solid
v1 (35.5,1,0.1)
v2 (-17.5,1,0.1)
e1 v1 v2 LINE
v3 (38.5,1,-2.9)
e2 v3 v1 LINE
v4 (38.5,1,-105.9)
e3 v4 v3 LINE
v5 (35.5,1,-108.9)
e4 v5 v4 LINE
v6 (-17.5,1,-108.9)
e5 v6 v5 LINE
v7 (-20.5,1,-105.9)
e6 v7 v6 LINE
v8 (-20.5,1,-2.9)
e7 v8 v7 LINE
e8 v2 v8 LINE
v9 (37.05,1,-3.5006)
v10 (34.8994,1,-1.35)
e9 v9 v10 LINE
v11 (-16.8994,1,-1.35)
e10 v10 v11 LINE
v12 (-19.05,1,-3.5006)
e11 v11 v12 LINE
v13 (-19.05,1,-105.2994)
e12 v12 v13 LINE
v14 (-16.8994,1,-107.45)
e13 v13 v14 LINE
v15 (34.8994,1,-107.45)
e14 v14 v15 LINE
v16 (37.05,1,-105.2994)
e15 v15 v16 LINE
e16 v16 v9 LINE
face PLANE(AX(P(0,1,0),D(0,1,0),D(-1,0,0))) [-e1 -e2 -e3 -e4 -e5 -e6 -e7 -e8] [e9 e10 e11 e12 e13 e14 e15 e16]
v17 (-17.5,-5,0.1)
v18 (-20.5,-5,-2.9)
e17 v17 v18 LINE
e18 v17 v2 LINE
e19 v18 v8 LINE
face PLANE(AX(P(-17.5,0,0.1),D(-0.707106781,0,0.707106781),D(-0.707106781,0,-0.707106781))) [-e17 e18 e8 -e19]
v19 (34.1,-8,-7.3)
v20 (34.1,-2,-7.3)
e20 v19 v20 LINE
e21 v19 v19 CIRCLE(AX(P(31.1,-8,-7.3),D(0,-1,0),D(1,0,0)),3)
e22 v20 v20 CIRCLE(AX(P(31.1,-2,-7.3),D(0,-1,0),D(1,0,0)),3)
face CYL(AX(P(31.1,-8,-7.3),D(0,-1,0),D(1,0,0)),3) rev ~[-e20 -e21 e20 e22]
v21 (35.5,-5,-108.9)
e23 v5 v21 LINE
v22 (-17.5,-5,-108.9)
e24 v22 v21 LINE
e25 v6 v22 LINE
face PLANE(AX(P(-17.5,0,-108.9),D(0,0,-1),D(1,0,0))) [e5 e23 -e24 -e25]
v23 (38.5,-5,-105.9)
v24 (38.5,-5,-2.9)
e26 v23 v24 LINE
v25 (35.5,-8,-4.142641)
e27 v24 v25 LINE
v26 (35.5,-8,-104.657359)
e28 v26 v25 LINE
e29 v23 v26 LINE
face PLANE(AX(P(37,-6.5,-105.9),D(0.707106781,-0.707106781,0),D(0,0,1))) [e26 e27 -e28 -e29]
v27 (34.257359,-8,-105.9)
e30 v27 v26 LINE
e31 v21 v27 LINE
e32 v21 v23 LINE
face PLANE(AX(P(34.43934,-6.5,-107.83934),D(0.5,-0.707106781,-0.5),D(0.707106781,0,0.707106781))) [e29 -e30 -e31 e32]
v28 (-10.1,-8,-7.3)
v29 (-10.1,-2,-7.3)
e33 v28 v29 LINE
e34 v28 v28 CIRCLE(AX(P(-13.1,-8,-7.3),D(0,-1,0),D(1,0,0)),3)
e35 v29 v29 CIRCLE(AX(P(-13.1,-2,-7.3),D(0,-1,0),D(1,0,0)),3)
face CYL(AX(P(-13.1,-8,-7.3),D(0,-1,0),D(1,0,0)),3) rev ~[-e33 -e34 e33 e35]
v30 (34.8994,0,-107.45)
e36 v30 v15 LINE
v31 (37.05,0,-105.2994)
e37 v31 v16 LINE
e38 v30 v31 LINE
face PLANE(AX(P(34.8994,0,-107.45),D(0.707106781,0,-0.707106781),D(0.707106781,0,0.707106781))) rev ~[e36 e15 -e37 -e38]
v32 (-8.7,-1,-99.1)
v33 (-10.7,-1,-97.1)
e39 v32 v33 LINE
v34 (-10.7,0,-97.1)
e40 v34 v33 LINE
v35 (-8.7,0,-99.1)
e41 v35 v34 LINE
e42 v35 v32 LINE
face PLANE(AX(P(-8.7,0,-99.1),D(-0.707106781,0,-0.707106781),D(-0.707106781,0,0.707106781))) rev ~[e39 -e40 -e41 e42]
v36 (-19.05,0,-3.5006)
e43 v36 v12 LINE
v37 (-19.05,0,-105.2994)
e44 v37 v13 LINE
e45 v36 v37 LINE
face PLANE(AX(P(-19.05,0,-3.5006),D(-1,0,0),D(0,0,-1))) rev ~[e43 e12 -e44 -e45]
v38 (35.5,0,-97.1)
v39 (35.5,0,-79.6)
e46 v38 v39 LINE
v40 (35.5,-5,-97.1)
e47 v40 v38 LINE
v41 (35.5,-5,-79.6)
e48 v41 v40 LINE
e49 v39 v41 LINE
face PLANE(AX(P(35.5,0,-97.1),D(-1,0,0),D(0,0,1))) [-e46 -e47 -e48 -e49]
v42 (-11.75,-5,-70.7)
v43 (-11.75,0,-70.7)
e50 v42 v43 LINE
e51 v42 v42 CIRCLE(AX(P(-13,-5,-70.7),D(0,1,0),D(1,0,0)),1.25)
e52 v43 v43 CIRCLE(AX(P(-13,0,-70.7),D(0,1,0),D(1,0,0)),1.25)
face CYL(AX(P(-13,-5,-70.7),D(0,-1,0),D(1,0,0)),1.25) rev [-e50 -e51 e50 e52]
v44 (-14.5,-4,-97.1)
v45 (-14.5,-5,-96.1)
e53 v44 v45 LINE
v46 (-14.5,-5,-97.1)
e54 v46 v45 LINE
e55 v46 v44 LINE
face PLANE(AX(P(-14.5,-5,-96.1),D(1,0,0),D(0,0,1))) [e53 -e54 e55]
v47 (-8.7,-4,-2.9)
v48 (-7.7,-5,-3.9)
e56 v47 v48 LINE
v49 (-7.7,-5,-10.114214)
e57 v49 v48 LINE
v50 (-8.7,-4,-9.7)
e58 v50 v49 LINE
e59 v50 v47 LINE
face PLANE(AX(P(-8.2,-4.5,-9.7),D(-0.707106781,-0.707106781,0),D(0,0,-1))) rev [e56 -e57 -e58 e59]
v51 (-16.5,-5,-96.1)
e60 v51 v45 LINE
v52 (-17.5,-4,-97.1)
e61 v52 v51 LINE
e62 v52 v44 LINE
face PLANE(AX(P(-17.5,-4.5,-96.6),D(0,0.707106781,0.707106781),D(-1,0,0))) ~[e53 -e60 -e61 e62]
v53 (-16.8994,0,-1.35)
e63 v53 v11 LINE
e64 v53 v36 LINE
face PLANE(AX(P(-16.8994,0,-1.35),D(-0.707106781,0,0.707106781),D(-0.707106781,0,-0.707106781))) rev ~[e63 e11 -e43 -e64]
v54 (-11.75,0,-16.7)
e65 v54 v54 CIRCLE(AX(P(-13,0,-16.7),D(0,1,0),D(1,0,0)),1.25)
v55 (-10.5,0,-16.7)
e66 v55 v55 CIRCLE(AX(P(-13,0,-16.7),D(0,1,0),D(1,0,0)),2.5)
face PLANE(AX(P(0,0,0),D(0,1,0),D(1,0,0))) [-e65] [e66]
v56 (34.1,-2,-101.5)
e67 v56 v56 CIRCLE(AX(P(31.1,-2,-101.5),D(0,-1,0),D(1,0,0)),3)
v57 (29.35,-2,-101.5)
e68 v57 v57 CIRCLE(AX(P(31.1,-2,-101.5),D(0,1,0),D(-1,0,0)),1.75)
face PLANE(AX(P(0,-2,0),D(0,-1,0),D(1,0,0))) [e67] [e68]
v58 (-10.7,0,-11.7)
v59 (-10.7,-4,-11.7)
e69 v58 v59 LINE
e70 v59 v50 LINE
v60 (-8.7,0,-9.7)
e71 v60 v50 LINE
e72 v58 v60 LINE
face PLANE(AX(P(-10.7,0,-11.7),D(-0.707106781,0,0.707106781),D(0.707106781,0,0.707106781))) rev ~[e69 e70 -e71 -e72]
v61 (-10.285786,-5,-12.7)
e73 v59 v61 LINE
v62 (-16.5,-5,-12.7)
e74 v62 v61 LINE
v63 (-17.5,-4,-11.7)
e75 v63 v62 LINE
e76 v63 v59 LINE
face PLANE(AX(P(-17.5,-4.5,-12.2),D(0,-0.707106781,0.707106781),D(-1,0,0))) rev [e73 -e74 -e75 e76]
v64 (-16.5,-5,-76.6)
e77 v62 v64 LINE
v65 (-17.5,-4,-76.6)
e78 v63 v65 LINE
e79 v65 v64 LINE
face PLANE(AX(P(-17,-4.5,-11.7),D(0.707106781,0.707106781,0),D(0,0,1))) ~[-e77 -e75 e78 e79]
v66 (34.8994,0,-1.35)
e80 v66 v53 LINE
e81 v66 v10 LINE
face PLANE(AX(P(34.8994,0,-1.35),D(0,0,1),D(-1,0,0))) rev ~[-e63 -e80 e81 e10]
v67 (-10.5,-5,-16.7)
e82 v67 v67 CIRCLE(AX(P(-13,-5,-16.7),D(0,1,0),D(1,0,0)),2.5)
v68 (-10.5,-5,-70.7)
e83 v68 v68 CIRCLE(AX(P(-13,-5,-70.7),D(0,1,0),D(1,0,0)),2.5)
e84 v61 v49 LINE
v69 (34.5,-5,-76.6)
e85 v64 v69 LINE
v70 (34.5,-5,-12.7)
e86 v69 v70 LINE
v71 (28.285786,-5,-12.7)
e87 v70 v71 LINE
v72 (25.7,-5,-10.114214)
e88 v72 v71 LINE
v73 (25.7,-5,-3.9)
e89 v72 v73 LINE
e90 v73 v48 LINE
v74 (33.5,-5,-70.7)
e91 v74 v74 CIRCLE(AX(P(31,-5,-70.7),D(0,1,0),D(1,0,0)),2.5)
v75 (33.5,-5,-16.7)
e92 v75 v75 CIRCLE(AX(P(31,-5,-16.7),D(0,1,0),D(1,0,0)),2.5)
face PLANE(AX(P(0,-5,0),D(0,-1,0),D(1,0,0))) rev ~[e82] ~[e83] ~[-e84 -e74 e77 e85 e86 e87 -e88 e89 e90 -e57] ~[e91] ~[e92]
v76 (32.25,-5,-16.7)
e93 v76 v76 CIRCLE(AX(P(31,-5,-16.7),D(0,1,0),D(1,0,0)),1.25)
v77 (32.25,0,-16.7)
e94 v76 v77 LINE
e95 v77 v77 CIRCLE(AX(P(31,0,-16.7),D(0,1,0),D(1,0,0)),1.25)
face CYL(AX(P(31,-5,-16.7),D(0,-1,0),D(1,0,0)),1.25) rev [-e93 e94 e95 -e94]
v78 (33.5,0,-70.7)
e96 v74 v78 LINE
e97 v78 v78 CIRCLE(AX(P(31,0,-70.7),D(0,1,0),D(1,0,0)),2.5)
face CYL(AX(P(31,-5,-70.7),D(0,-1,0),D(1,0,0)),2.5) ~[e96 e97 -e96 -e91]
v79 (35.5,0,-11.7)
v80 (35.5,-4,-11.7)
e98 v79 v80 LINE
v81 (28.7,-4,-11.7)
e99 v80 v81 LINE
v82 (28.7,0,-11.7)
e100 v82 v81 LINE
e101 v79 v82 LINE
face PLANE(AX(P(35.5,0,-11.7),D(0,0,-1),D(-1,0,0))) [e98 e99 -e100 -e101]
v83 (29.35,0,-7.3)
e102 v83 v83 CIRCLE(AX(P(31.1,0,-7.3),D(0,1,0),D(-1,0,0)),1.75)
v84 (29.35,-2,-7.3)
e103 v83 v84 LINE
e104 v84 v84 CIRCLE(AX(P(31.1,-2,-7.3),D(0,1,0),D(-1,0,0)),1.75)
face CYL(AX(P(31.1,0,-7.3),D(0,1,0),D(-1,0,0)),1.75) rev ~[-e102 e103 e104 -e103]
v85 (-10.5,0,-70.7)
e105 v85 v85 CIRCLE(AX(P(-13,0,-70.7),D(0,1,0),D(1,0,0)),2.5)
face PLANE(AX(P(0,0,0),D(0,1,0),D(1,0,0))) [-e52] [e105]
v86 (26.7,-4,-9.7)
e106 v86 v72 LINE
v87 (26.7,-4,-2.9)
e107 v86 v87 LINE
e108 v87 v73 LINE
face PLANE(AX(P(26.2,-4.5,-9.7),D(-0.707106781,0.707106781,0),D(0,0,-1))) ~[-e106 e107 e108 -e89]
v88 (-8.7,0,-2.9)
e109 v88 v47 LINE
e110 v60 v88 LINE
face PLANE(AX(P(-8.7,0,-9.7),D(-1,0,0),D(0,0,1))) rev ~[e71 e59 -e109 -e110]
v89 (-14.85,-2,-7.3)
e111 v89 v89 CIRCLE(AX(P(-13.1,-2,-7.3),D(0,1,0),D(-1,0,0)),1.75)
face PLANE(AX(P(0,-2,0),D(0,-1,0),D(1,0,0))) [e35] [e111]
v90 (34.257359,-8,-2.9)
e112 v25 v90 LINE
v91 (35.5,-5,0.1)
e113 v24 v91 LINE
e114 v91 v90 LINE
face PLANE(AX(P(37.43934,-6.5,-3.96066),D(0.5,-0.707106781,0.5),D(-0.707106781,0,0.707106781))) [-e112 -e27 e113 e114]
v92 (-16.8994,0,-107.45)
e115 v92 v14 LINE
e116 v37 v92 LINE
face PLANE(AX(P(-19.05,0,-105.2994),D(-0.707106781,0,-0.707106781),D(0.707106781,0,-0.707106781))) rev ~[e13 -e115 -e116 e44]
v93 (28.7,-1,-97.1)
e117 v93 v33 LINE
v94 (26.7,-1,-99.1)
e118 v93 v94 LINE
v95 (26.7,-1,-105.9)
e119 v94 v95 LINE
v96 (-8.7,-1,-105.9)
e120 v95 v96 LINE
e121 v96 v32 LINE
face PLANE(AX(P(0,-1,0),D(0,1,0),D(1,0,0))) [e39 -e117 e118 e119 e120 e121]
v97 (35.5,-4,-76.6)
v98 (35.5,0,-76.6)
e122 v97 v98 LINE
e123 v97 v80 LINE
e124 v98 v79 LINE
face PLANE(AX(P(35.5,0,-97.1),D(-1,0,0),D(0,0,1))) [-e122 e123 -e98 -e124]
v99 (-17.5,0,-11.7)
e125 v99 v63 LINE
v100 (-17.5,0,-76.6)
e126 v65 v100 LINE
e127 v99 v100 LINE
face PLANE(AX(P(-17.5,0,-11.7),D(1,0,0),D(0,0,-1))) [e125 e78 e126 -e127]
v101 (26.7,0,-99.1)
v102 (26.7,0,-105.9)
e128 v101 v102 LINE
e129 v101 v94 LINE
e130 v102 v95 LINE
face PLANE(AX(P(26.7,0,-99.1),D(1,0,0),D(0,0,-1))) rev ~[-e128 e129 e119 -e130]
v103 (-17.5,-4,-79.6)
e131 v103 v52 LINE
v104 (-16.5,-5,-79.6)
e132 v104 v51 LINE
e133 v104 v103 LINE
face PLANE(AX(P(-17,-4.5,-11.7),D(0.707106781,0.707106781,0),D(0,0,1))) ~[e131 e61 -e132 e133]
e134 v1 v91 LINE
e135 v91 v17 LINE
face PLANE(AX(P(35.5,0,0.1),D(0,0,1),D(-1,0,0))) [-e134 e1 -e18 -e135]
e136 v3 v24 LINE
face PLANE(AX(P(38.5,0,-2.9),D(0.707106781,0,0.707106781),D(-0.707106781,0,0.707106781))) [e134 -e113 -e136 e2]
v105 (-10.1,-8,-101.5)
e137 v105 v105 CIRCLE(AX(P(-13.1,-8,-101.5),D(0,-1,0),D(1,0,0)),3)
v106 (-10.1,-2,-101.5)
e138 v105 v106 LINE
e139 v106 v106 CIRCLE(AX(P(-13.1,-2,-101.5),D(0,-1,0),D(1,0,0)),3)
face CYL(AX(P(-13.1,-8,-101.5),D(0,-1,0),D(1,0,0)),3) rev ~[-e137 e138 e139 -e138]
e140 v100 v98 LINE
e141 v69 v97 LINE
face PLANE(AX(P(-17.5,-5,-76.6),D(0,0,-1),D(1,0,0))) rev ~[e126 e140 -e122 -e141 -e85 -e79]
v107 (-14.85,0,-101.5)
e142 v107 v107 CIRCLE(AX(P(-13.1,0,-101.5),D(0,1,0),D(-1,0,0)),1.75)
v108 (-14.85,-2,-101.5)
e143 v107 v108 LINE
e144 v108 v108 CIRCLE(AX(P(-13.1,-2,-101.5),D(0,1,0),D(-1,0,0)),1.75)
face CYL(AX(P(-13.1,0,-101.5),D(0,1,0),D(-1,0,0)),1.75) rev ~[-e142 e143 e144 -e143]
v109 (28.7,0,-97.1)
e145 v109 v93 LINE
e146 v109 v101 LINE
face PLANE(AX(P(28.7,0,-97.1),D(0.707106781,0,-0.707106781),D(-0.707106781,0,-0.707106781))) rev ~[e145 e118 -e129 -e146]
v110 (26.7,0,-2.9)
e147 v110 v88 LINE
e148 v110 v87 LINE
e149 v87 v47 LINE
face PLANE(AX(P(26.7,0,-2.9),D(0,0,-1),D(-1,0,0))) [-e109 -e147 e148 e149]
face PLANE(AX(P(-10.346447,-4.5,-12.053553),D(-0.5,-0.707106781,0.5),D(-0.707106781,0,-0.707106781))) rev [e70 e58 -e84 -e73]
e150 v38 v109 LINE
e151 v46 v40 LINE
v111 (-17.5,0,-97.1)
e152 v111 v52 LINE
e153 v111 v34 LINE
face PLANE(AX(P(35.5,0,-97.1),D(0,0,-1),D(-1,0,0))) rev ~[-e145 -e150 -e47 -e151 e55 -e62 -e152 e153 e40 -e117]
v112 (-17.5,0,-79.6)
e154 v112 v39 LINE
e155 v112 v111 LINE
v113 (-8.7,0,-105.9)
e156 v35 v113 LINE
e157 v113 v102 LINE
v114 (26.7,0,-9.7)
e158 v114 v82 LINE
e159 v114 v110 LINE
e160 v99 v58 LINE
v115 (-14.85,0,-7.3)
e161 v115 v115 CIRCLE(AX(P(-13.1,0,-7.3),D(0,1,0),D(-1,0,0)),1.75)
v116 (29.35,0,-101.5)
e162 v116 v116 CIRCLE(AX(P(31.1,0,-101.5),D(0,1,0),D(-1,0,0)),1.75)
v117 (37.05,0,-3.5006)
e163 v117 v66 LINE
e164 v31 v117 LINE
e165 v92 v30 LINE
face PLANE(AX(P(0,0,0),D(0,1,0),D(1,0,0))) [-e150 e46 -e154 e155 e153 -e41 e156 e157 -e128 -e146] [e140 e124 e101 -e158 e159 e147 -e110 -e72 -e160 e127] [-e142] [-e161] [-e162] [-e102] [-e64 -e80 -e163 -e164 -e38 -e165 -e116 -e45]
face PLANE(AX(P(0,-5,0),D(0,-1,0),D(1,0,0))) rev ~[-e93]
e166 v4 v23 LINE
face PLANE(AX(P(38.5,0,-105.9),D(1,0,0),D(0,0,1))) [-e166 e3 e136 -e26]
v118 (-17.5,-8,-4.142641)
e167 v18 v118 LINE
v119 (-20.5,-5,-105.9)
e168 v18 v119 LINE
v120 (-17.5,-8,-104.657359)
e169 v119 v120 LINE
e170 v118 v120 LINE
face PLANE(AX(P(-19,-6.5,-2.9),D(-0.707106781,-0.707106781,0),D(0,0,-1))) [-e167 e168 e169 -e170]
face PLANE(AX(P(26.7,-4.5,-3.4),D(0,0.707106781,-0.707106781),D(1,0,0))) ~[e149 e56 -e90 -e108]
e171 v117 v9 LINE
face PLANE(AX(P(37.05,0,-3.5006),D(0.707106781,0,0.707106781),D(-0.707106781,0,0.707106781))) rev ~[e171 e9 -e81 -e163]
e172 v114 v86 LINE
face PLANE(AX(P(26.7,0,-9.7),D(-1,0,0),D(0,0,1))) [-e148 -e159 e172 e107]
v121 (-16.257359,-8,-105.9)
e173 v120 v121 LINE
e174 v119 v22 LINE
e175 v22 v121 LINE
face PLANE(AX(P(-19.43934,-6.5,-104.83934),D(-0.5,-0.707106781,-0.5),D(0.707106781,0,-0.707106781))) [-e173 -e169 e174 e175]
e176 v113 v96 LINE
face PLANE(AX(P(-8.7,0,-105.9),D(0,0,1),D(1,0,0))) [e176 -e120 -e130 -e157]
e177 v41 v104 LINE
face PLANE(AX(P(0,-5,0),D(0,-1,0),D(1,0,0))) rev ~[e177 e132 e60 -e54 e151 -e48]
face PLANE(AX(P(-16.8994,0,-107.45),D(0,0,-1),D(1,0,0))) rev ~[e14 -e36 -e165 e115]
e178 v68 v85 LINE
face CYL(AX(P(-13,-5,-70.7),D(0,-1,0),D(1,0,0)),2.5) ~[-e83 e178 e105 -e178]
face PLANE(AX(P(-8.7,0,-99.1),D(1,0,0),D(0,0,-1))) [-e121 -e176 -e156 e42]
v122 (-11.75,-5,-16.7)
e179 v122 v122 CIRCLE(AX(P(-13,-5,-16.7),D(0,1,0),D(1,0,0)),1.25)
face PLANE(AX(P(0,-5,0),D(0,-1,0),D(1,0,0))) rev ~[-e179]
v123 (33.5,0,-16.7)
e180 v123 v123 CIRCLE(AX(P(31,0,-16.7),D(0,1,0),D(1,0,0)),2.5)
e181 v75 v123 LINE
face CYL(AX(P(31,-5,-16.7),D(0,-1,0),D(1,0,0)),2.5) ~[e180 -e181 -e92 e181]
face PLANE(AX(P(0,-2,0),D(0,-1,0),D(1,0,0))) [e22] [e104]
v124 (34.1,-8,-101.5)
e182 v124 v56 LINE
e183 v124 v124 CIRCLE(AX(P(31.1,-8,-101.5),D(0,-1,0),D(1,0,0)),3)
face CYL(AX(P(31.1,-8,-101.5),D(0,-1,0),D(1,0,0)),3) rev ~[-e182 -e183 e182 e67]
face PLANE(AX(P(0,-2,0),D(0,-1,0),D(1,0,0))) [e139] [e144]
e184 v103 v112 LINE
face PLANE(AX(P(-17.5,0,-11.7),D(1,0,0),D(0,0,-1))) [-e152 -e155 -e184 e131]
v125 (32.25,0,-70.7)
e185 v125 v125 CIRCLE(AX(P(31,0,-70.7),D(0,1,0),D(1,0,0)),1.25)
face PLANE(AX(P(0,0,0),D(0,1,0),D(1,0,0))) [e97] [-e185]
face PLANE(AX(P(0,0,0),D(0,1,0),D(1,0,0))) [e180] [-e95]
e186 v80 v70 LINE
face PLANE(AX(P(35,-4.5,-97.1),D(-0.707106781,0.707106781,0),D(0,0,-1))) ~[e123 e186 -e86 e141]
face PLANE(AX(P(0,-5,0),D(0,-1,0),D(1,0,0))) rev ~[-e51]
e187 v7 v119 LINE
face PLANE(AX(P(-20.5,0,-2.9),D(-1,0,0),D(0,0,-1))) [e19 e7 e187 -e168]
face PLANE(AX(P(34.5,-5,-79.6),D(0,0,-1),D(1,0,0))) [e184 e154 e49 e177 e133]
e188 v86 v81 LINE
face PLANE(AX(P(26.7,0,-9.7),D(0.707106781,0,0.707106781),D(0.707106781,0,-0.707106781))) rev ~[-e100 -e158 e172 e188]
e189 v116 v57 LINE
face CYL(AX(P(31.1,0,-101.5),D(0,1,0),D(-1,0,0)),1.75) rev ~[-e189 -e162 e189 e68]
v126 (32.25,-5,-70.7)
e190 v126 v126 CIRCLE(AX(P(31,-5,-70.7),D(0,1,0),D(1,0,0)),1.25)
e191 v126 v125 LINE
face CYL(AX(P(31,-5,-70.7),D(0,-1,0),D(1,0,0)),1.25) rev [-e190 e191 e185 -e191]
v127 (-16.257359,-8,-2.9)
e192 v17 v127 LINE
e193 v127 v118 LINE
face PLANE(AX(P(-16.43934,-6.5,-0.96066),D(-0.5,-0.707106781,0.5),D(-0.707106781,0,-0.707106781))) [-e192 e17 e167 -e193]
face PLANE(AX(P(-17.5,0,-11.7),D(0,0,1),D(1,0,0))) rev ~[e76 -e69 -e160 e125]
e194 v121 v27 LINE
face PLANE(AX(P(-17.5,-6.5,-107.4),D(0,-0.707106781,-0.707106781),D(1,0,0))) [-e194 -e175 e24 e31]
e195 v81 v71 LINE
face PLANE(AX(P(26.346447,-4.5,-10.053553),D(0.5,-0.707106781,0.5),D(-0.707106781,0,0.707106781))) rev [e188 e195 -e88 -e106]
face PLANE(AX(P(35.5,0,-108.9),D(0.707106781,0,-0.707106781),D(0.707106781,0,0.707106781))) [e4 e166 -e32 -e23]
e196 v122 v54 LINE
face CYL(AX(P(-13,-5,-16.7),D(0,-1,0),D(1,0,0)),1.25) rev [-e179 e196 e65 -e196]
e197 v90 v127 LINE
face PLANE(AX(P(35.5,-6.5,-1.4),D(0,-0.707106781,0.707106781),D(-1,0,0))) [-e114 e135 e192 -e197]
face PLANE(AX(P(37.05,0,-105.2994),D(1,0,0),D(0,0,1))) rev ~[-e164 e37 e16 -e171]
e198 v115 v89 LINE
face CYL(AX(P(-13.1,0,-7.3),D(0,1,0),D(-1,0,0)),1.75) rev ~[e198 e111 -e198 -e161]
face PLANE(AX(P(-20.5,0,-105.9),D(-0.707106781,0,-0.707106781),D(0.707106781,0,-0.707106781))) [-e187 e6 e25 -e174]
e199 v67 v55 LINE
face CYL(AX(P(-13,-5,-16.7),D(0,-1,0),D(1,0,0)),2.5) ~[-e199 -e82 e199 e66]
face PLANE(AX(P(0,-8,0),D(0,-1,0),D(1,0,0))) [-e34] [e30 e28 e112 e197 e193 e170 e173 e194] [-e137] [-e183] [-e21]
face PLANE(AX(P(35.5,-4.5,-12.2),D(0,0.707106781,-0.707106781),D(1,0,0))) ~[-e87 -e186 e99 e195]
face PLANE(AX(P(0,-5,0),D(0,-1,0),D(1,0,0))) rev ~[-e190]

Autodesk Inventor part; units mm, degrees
ref_plane "YZ Plane" through (0, 0, 0) normal (1, 0, 0) x (0, 1, 0)
ref_plane "XZ Plane" through (0, 0, 0) normal (0, 1, 0) x (-1, 0, 0)
ref_plane "XY Plane" through (0, 0, 0) normal (0, 0, 1) x (1, 0, 0)
sketch "Sketch4" plane through (0, 0, 0) normal (0, 1, 0) x (-1, 0, 0)
  circle A0 centre (-31.1, -7.3) radius 1.75
  line L0 (-34.858, -107.35) -> (16.858, -107.35)
  line L1 (16.858, -107.35) -> (18.95, -105.258)
  line L2 (18.95, -105.258) -> (18.95, -3.542)
  line L3 (18.95, -3.542) -> (16.858, -1.45)
  line L4 (16.858, -1.45) -> (-34.858, -1.45)
  line L5 (-34.858, -1.45) -> (-36.95, -3.542)
  line L6 (-36.95, -3.542) -> (-36.95, -105.258)
  line L7 (-36.95, -105.258) -> (-34.858, -107.35)
  circle A1 centre (-31.1, -101.5) radius 1.75
  circle A2 centre (13.1, -7.3) radius 1.75
  line L8 (8.7, -99.1) -> (10.7, -97.1)
  line L9 (8.7, -99.1) -> (8.7, -105.9)
  line L10 (8.7, -105.9) -> (-26.7, -105.9)
  line L11 (-26.7, -99.1) -> (-26.7, -105.9)
  line L12 (-28.7, -97.1) -> (-26.7, -99.1)
  line L13 (-35.5, -97.1) -> (-28.7, -97.1)
  line L14 (-35.5, -97.1) -> (-35.5, -11.7)
  line L15 (-35.5, -11.7) -> (-28.7, -11.7)
  line L16 (-26.7, -9.7) -> (-28.7, -11.7)
  line L17 (-26.7, -9.7) -> (-26.7, -2.9)
  line L18 (-26.7, -2.9) -> (8.7, -2.9)
  line L19 (8.7, -9.7) -> (8.7, -2.9)
  line L20 (10.7, -11.7) -> (8.7, -9.7)
  line L21 (17.5, -11.7) -> (10.7, -11.7)
  line L22 (17.5, -11.7) -> (17.5, -97.1)
  line L23 (17.5, -97.1) -> (10.7, -97.1)
  circle A3 centre (13.1, -101.5) radius 1.75
  line L24 (20.5, -2.9) -> (20.5, -105.9)
  line L25 (17.5, 0.1) -> (20.5, -2.9)
  line L26 (-35.5, 0.1) -> (17.5, 0.1)
  line L27 (-38.5, -2.9) -> (-35.5, 0.1)
  line L28 (-38.5, -105.9) -> (-38.5, -2.9)
  line L29 (-35.5, -108.9) -> (-38.5, -105.9)
  line L30 (17.5, -108.9) -> (-35.5, -108.9)
  line L31 (20.5, -105.9) -> (17.5, -108.9)
  line L32 (16.858, -107.35) -> (18.95, -105.258)
  line L33 (-34.858, -107.35) -> (16.858, -107.35)
  line L34 (-36.95, -105.258) -> (-34.858, -107.35)
  line L35 (-36.95, -3.542) -> (-36.95, -105.258)
  line L36 (-34.858, -1.45) -> (-36.95, -3.542)
  line L37 (16.858, -1.45) -> (-34.858, -1.45)
  line L38 (18.95, -3.542) -> (16.858, -1.45)
  line L39 (18.95, -105.258) -> (18.95, -3.542)
  line L40 (-37.05, -105.2994) -> (-37.05, -3.5006)
  line L41 (-37.05, -3.5006) -> (-34.8994, -1.35)
  line L42 (-34.8994, -1.35) -> (16.8994, -1.35)
  line L43 (16.8994, -1.35) -> (19.05, -3.5006)
  line L44 (19.05, -3.5006) -> (19.05, -105.2994)
  line L45 (19.05, -105.2994) -> (16.8994, -107.45)
  line L46 (16.8994, -107.45) -> (-34.8994, -107.45)
  line L47 (-34.8994, -107.45) -> (-37.05, -105.2994)
  point P0 (0, 0)
  point P1 (0, 0)
  dimension "d29" = 0.1
extrude "Extrusion3" add sketch "Sketch4" along normal blind 1 contours L24 L31 L30 L29 L28 L27 L26 L25
extrude "Extrusion4" add sketch "Sketch4" against normal blind 5 contours L7 L6 L5 L4 L3 L2 L1 L0 | L24 L31 L30 L29 L28 L27 L26 L25 | L40 L41 L42 L43 L44 L45 L46 L47
sketch "Sketch5" plane through (0, -5, 0) normal (0, -1, 0) x (1, 0, 0)
  line L0 (38.5, -105.9) -> (38.5, -2.9) projected
  line L1 (38.5, -2.9) -> (35.5, 0.1) projected
  line L2 (35.5, 0.1) -> (-17.5, 0.1) projected
  line L3 (35.5, 0.1) -> (-17.5, 0.1) projected
  line L4 (-17.5, 0.1) -> (-20.5, -2.9) projected
  line L5 (-20.5, -2.9) -> (-20.5, -105.9) projected
  line L6 (-20.5, -105.9) -> (-17.5, -108.9) projected
  line L7 (-17.5, -108.9) -> (35.5, -108.9) projected
  line L8 (35.5, -108.9) -> (38.5, -105.9) projected
  line L9 (38.5, -105.9) -> (38.5, -2.9) projected
  line L10 (38.5, -2.9) -> (35.5, 0.1) projected
  circle A0 centre (31.1, -101.5) radius 1.75 projected
  circle A1 centre (-13.1, -101.5) radius 1.75 projected
  circle A2 centre (31.1, -7.3) radius 1.75 projected
  circle A3 centre (-13.1, -7.3) radius 1.75 projected
  line L11 (-17.5, -11.7) -> (-10.7, -11.7) projected
  line L12 (-10.7, -11.7) -> (-8.7, -9.7) projected
  line L13 (-8.7, -9.7) -> (-8.7, -2.9) projected
  line L14 (-8.7, -2.9) -> (26.7, -2.9) projected
  line L15 (26.7, -2.9) -> (26.7, -9.7) projected
  line L16 (26.7, -9.7) -> (28.7, -11.7) projected
  line L17 (28.7, -11.7) -> (35.5, -11.7) projected
  line L18 (35.5, -11.7) -> (35.5, -97.1) projected
  line L19 (35.5, -97.1) -> (28.7, -97.1) projected
  line L20 (28.7, -97.1) -> (26.7, -99.1) projected
  line L21 (26.7, -99.1) -> (26.7, -105.9) projected
  line L22 (26.7, -105.9) -> (-8.7, -105.9) projected
  line L23 (-8.7, -105.9) -> (-8.7, -99.1) projected
  line L24 (-8.7, -99.1) -> (-10.7, -97.1) projected
  line L25 (-10.7, -97.1) -> (-17.5, -97.1) projected
  line L26 (-17.5, -97.1) -> (-17.5, -11.7) projected
  point P0 (0, 0)
extrude "Extrusion5" add sketch "Sketch5" along normal blind 3 contours L8 L7 L6 L5 L4 L2 L1 L0 | L11 L12 L13 L14 L15 L16 L17 L18 L19 L20 L21 L22 L23 L24 L25 L26
sketch "Sketch6" plane through (0, -8, 0) normal (0, -1, 0) x (1, 0, 0)
  line L0 (38.5, -2.9) -> (35.5, 0.1) projected
  line L1 (35.5, 0.1) -> (-17.5, 0.1) projected
  line L2 (-17.5, 0.1) -> (-20.5, -2.9) projected
  line L3 (-20.5, -2.9) -> (-20.5, -105.9) projected
  line L4 (-20.5, -105.9) -> (-17.5, -108.9) projected
  line L5 (-17.5, -108.9) -> (35.5, -108.9) projected
  line L6 (35.5, -108.9) -> (38.5, -105.9) projected
  line L7 (38.5, -105.9) -> (38.5, -2.9) projected
  circle A0 centre (31.1, -101.5) radius 1.75 projected
  circle A1 centre (-13.1, -101.5) radius 1.75 projected
  circle A2 centre (31.1, -7.3) radius 1.75 projected
  circle A3 centre (-13.1, -7.3) radius 1.75 projected
  circle A4 centre (31.1, -7.3) radius 3
  circle A5 centre (31.1, -101.5) radius 3
  circle A6 centre (-13.1, -101.5) radius 3
  circle A7 centre (-13.1, -7.3) radius 3
  point P0 (0, 0)
  dimension "d17" = 6
  dimension "d18" = 6
  dimension "d19" = 6
  dimension "d20" = 6
extrude "Extrusion6" cut sketch "Sketch6" against normal blind 6 contours A4 | A5 | A6 | A7
chamfer "Chamfer2" distance 1 angle 45 16 edges at (-17.5, -5, -54.4) (-9.7, -5, -98.1) (-8.7, -5, -102.5) (9, -5, -105.9) (26.7, -5, -102.5) (27.7, -5, -98.1) (35.5, -5, -54.4) (-14.1, -5, -11.7) (-9.7, -5, -10.7) (-8.7, -5, -6.3) (9, -5, -2.9) (26.7, -5, -6.3) (27.7, -5, -10.7) (32.1, -5, -11.7) (32.1, -5, -97.1) (-14.1, -5, -97.1)
chamfer "Chamfer3" distance 3 angle 45 8 edges at (38.5, -8, -54.4) (37, -8, -1.4) (9, -8, 0.1) (-19, -8, -1.4) (-20.5, -8, -54.4) (-19, -8, -107.4) (9, -8, -108.9) (37, -8, -107.4)
sketch "Sketch7" plane through (0, -5, 0) normal (0, 1, 0) x (1, 0, 0)
  line L0 (-13, 16.7) -> (31, 16.7) construction
  line L1 (31, 16.7) -> (31, 70.7) construction
  line L2 (31, 70.7) -> (-13, 70.7) construction
  line L3 (-13, 70.7) -> (-13, 16.7) construction
  circle A0 centre (-13, 70.7) radius 1.25
  circle A1 centre (31, 70.7) radius 1.25
  circle A2 centre (31, 16.7) radius 1.25
  circle A3 centre (-13, 16.7) radius 1.25
  line L4 (-13, 70.7) -> (31, 16.7) construction
  line L5 (-13, 16.7) -> (31, 70.7) construction
  line L6 (-16, 13.7) -> (34, 13.7) construction
  line L7 (34, 13.7) -> (34, 73.7) construction
  line L8 (34, 73.7) -> (-16, 73.7) construction
  line L9 (-16, 73.7) -> (-16, 13.7) construction
  line L10 (-16, 13.7) -> (34, 73.7) construction
  line L11 (34, 13.7) -> (-16, 73.7) construction
  line L12 (34.5, 96.1) -> (34.5, 12.7) construction
  line L13 (25.7, 98.6858) -> (28.2858, 96.1) construction
  line L14 (25.7, 104.9) -> (25.7, 98.6858) construction
  line L15 (-7.7, 104.9) -> (25.7, 104.9) construction
  line L16 (-7.7, 98.6858) -> (-7.7, 104.9) construction
  line L17 (-10.2858, 96.1) -> (-7.7, 98.6858) construction
  line L18 (-16.5, 12.7) -> (-16.5, 96.1) construction
  line L19 (-10.2858, 12.7) -> (-16.5, 12.7) construction
  line L20 (-7.7, 10.1142) -> (-10.2858, 12.7) construction
  line L21 (-7.7, 3.9) -> (-7.7, 10.1142) construction
  line L22 (25.7, 3.9) -> (-7.7, 3.9) construction
  line L23 (25.7, 10.1142) -> (25.7, 3.9) construction
  line L24 (28.2858, 12.7) -> (25.7, 10.1142) construction
  line L25 (34.5, 12.7) -> (28.2858, 12.7) construction
  line L26 (-7.7, 104.9) -> (25.7, 104.9) construction
  line L27 (9, 104.9) -> (9, 3.9) construction
  line L28 (25.7, 3.9) -> (-7.7, 3.9) construction
  circle A4 centre (-13, 70.7) radius 2.5
  circle A5 centre (31, 70.7) radius 2.5
  circle A6 centre (31, 16.7) radius 2.5
  circle A7 centre (-13, 16.7) radius 2.5
  line L29 (28.2858, 96.1) -> (34.5, 96.1) projected
  line L30 (-16.5, 96.1) -> (-10.2858, 96.1) projected
  point P0 (0, 0)
  point P1 (9, 43.7)
  point P2 (9, 43.7)
  dimension "d30" = 44
  dimension "d31" = 54
  dimension "d32" = 2.5
  dimension "d33" = 2.5
  dimension "d34" = 2.5
  dimension "d35" = 2.5
  dimension "d36" = 50
  dimension "d37" = 60
  dimension "d38" = 1
  dimension "d39" = 5
  dimension "d40" = 5
  dimension "d41" = 5
  dimension "d42" = 5
extrude "Extrusion7" add sketch "Sketch7" along normal blind 5
sketch "Sketch8" plane through (0, -5, 0) normal (0, 1, 0) x (1, 0, 0)
  line L0 (-14.5, 79.6) -> (35.5, 79.6)
  line L1 (35.5, 79.6) -> (35.5, 97.1)
  line L2 (35.5, 97.1) -> (-14.5, 97.1)
  line L3 (-14.5, 97.1) -> (-14.5, 79.6)
  line L4 (-14.5, 79.6) -> (35.5, 97.1) construction
  line L5 (35.5, 79.6) -> (-14.5, 97.1) construction
  circle A0 centre (31, 16.7) radius 2.5 projected
  circle A1 centre (31, 70.7) radius 2.5 projected
  circle A2 centre (-13, 16.7) radius 2.5 projected
  circle A3 centre (-13, 70.7) radius 2.5 projected
  line L6 (-16.5, 12.7) -> (-16.5, 96.1) projected
  line L7 (-10.2858, 12.7) -> (-16.5, 12.7) projected
  line L8 (-7.7, 10.1142) -> (-10.2858, 12.7) projected
  line L9 (-7.7, 3.9) -> (-7.7, 10.1142) projected
  line L10 (25.7, 3.9) -> (-7.7, 3.9) projected
  line L11 (25.7, 10.1142) -> (25.7, 3.9) projected
  line L12 (28.2858, 12.7) -> (25.7, 10.1142) projected
  line L13 (34.5, 12.7) -> (28.2858, 12.7) projected
  line L14 (34.5, 96.1) -> (34.5, 12.7) projected
  line L15 (25.7, 98.6858) -> (28.2858, 96.1) projected
  line L16 (25.7, 104.9) -> (25.7, 98.6858) projected
  line L17 (-7.7, 104.9) -> (25.7, 104.9) projected
  line L18 (-7.7, 98.6858) -> (-7.7, 104.9) projected
  line L19 (-10.2858, 96.1) -> (-7.7, 98.6858) projected
  line L20 (28.7, 97.1) -> (35.5, 97.1) projected
  line L21 (35.5, 97.1) -> (35.5, 11.7) projected
  line L22 (28.2858, 96.1) -> (34.5, 96.1) projected
  line L23 (-16.5, 96.1) -> (-10.2858, 96.1) projected
  line L24 (26.7, 105.9) -> (-8.7, 105.9) projected
  line L25 (-7.7, 104.9) -> (-8.7, 105.9) projected
  line L26 (-7.7, 104.9) -> (25.7, 104.9) projected
  line L27 (25.7, 104.9) -> (26.7, 105.9) projected
  line L28 (-8.7, 105.9) -> (-8.7, 99.1) projected
  line L29 (-7.7, 98.6858) -> (-8.7, 99.1) projected
  line L30 (-7.7, 98.6858) -> (-7.7, 104.9) projected
  line L31 (-7.7, 104.9) -> (-8.7, 105.9) projected
  line L32 (-8.7, 99.1) -> (-10.7, 97.1) projected
  line L33 (-10.2858, 96.1) -> (-10.7, 97.1) projected
  line L34 (-10.2858, 96.1) -> (-7.7, 98.6858) projected
  line L35 (-7.7, 98.6858) -> (-8.7, 99.1) projected
  line L36 (28.7, 97.1) -> (26.7, 99.1) projected
  line L37 (25.7, 98.6858) -> (26.7, 99.1) projected
  line L38 (25.7, 98.6858) -> (28.2858, 96.1) projected
  line L39 (28.2858, 96.1) -> (28.7, 97.1) projected
  line L40 (26.7, 99.1) -> (26.7, 105.9) projected
  line L41 (25.7, 104.9) -> (26.7, 105.9) projected
  line L42 (25.7, 104.9) -> (25.7, 98.6858) projected
  line L43 (25.7, 98.6858) -> (26.7, 99.1) projected
  point P0 (0, 0)
  point P1 (10.5, 88.35)
  point P2 (34.5, 97.1)
  point P3 (-9.2858, 97.1)
  point P4 (-14.5, 96.1)
  dimension "d47" = 50
  dimension "d48" = 17.5
extrude "Extrusion8" cut sketch "Sketch8" along normal blind 5 contours L3 L23 L19 L2 L15 L22 L14 L0 | L14 L22 L39 L2 L1 L0 | L3 L2 L33 L23 | L33 L2 L19 | L15 L2 L39
extrude "Extrusion9" add sketch "Sketch8" along normal blind 4 contours L32 L29 L19 L2 | L19 L18 L17 L16 L15 L2 | L2 L15 L37 L36 | L28 L25 L18 L29 | L37 L16 L27 L40 | L24 L27 L17 L25
sketch "Sketch9" plane through (0, -5, 0) normal (0, 1, 0) x (1, 0, 0)
  line L0 (34.5, 79.6) -> (35.5, 79.6) projected
  line L1 (-17.5, 97.1) -> (-17.5, 11.7) projected
  line L2 (35.5, 79.6) -> (-17.5, 79.6)
  line L3 (-17.5, 79.6) -> (-17.5, 76.6)
  line L4 (-17.5, 76.6) -> (35.5, 76.6)
  line L5 (35.5, 76.6) -> (35.5, 79.6)
  point P0 (0, 0)
  dimension "d53" = 3
extrude "Extrusion10" add sketch "Sketch9" along normal blind 5
equation "\"d18\" = d17"
equation "\"d19\" = d17"
equation "\"d20\" = d17"
equation "\"d33\" = d32"
equation "\"d34\" = d32"
equation "\"d35\" = d32"
equation "\"d43\" = d42"
properties part number "_3DPrint"
